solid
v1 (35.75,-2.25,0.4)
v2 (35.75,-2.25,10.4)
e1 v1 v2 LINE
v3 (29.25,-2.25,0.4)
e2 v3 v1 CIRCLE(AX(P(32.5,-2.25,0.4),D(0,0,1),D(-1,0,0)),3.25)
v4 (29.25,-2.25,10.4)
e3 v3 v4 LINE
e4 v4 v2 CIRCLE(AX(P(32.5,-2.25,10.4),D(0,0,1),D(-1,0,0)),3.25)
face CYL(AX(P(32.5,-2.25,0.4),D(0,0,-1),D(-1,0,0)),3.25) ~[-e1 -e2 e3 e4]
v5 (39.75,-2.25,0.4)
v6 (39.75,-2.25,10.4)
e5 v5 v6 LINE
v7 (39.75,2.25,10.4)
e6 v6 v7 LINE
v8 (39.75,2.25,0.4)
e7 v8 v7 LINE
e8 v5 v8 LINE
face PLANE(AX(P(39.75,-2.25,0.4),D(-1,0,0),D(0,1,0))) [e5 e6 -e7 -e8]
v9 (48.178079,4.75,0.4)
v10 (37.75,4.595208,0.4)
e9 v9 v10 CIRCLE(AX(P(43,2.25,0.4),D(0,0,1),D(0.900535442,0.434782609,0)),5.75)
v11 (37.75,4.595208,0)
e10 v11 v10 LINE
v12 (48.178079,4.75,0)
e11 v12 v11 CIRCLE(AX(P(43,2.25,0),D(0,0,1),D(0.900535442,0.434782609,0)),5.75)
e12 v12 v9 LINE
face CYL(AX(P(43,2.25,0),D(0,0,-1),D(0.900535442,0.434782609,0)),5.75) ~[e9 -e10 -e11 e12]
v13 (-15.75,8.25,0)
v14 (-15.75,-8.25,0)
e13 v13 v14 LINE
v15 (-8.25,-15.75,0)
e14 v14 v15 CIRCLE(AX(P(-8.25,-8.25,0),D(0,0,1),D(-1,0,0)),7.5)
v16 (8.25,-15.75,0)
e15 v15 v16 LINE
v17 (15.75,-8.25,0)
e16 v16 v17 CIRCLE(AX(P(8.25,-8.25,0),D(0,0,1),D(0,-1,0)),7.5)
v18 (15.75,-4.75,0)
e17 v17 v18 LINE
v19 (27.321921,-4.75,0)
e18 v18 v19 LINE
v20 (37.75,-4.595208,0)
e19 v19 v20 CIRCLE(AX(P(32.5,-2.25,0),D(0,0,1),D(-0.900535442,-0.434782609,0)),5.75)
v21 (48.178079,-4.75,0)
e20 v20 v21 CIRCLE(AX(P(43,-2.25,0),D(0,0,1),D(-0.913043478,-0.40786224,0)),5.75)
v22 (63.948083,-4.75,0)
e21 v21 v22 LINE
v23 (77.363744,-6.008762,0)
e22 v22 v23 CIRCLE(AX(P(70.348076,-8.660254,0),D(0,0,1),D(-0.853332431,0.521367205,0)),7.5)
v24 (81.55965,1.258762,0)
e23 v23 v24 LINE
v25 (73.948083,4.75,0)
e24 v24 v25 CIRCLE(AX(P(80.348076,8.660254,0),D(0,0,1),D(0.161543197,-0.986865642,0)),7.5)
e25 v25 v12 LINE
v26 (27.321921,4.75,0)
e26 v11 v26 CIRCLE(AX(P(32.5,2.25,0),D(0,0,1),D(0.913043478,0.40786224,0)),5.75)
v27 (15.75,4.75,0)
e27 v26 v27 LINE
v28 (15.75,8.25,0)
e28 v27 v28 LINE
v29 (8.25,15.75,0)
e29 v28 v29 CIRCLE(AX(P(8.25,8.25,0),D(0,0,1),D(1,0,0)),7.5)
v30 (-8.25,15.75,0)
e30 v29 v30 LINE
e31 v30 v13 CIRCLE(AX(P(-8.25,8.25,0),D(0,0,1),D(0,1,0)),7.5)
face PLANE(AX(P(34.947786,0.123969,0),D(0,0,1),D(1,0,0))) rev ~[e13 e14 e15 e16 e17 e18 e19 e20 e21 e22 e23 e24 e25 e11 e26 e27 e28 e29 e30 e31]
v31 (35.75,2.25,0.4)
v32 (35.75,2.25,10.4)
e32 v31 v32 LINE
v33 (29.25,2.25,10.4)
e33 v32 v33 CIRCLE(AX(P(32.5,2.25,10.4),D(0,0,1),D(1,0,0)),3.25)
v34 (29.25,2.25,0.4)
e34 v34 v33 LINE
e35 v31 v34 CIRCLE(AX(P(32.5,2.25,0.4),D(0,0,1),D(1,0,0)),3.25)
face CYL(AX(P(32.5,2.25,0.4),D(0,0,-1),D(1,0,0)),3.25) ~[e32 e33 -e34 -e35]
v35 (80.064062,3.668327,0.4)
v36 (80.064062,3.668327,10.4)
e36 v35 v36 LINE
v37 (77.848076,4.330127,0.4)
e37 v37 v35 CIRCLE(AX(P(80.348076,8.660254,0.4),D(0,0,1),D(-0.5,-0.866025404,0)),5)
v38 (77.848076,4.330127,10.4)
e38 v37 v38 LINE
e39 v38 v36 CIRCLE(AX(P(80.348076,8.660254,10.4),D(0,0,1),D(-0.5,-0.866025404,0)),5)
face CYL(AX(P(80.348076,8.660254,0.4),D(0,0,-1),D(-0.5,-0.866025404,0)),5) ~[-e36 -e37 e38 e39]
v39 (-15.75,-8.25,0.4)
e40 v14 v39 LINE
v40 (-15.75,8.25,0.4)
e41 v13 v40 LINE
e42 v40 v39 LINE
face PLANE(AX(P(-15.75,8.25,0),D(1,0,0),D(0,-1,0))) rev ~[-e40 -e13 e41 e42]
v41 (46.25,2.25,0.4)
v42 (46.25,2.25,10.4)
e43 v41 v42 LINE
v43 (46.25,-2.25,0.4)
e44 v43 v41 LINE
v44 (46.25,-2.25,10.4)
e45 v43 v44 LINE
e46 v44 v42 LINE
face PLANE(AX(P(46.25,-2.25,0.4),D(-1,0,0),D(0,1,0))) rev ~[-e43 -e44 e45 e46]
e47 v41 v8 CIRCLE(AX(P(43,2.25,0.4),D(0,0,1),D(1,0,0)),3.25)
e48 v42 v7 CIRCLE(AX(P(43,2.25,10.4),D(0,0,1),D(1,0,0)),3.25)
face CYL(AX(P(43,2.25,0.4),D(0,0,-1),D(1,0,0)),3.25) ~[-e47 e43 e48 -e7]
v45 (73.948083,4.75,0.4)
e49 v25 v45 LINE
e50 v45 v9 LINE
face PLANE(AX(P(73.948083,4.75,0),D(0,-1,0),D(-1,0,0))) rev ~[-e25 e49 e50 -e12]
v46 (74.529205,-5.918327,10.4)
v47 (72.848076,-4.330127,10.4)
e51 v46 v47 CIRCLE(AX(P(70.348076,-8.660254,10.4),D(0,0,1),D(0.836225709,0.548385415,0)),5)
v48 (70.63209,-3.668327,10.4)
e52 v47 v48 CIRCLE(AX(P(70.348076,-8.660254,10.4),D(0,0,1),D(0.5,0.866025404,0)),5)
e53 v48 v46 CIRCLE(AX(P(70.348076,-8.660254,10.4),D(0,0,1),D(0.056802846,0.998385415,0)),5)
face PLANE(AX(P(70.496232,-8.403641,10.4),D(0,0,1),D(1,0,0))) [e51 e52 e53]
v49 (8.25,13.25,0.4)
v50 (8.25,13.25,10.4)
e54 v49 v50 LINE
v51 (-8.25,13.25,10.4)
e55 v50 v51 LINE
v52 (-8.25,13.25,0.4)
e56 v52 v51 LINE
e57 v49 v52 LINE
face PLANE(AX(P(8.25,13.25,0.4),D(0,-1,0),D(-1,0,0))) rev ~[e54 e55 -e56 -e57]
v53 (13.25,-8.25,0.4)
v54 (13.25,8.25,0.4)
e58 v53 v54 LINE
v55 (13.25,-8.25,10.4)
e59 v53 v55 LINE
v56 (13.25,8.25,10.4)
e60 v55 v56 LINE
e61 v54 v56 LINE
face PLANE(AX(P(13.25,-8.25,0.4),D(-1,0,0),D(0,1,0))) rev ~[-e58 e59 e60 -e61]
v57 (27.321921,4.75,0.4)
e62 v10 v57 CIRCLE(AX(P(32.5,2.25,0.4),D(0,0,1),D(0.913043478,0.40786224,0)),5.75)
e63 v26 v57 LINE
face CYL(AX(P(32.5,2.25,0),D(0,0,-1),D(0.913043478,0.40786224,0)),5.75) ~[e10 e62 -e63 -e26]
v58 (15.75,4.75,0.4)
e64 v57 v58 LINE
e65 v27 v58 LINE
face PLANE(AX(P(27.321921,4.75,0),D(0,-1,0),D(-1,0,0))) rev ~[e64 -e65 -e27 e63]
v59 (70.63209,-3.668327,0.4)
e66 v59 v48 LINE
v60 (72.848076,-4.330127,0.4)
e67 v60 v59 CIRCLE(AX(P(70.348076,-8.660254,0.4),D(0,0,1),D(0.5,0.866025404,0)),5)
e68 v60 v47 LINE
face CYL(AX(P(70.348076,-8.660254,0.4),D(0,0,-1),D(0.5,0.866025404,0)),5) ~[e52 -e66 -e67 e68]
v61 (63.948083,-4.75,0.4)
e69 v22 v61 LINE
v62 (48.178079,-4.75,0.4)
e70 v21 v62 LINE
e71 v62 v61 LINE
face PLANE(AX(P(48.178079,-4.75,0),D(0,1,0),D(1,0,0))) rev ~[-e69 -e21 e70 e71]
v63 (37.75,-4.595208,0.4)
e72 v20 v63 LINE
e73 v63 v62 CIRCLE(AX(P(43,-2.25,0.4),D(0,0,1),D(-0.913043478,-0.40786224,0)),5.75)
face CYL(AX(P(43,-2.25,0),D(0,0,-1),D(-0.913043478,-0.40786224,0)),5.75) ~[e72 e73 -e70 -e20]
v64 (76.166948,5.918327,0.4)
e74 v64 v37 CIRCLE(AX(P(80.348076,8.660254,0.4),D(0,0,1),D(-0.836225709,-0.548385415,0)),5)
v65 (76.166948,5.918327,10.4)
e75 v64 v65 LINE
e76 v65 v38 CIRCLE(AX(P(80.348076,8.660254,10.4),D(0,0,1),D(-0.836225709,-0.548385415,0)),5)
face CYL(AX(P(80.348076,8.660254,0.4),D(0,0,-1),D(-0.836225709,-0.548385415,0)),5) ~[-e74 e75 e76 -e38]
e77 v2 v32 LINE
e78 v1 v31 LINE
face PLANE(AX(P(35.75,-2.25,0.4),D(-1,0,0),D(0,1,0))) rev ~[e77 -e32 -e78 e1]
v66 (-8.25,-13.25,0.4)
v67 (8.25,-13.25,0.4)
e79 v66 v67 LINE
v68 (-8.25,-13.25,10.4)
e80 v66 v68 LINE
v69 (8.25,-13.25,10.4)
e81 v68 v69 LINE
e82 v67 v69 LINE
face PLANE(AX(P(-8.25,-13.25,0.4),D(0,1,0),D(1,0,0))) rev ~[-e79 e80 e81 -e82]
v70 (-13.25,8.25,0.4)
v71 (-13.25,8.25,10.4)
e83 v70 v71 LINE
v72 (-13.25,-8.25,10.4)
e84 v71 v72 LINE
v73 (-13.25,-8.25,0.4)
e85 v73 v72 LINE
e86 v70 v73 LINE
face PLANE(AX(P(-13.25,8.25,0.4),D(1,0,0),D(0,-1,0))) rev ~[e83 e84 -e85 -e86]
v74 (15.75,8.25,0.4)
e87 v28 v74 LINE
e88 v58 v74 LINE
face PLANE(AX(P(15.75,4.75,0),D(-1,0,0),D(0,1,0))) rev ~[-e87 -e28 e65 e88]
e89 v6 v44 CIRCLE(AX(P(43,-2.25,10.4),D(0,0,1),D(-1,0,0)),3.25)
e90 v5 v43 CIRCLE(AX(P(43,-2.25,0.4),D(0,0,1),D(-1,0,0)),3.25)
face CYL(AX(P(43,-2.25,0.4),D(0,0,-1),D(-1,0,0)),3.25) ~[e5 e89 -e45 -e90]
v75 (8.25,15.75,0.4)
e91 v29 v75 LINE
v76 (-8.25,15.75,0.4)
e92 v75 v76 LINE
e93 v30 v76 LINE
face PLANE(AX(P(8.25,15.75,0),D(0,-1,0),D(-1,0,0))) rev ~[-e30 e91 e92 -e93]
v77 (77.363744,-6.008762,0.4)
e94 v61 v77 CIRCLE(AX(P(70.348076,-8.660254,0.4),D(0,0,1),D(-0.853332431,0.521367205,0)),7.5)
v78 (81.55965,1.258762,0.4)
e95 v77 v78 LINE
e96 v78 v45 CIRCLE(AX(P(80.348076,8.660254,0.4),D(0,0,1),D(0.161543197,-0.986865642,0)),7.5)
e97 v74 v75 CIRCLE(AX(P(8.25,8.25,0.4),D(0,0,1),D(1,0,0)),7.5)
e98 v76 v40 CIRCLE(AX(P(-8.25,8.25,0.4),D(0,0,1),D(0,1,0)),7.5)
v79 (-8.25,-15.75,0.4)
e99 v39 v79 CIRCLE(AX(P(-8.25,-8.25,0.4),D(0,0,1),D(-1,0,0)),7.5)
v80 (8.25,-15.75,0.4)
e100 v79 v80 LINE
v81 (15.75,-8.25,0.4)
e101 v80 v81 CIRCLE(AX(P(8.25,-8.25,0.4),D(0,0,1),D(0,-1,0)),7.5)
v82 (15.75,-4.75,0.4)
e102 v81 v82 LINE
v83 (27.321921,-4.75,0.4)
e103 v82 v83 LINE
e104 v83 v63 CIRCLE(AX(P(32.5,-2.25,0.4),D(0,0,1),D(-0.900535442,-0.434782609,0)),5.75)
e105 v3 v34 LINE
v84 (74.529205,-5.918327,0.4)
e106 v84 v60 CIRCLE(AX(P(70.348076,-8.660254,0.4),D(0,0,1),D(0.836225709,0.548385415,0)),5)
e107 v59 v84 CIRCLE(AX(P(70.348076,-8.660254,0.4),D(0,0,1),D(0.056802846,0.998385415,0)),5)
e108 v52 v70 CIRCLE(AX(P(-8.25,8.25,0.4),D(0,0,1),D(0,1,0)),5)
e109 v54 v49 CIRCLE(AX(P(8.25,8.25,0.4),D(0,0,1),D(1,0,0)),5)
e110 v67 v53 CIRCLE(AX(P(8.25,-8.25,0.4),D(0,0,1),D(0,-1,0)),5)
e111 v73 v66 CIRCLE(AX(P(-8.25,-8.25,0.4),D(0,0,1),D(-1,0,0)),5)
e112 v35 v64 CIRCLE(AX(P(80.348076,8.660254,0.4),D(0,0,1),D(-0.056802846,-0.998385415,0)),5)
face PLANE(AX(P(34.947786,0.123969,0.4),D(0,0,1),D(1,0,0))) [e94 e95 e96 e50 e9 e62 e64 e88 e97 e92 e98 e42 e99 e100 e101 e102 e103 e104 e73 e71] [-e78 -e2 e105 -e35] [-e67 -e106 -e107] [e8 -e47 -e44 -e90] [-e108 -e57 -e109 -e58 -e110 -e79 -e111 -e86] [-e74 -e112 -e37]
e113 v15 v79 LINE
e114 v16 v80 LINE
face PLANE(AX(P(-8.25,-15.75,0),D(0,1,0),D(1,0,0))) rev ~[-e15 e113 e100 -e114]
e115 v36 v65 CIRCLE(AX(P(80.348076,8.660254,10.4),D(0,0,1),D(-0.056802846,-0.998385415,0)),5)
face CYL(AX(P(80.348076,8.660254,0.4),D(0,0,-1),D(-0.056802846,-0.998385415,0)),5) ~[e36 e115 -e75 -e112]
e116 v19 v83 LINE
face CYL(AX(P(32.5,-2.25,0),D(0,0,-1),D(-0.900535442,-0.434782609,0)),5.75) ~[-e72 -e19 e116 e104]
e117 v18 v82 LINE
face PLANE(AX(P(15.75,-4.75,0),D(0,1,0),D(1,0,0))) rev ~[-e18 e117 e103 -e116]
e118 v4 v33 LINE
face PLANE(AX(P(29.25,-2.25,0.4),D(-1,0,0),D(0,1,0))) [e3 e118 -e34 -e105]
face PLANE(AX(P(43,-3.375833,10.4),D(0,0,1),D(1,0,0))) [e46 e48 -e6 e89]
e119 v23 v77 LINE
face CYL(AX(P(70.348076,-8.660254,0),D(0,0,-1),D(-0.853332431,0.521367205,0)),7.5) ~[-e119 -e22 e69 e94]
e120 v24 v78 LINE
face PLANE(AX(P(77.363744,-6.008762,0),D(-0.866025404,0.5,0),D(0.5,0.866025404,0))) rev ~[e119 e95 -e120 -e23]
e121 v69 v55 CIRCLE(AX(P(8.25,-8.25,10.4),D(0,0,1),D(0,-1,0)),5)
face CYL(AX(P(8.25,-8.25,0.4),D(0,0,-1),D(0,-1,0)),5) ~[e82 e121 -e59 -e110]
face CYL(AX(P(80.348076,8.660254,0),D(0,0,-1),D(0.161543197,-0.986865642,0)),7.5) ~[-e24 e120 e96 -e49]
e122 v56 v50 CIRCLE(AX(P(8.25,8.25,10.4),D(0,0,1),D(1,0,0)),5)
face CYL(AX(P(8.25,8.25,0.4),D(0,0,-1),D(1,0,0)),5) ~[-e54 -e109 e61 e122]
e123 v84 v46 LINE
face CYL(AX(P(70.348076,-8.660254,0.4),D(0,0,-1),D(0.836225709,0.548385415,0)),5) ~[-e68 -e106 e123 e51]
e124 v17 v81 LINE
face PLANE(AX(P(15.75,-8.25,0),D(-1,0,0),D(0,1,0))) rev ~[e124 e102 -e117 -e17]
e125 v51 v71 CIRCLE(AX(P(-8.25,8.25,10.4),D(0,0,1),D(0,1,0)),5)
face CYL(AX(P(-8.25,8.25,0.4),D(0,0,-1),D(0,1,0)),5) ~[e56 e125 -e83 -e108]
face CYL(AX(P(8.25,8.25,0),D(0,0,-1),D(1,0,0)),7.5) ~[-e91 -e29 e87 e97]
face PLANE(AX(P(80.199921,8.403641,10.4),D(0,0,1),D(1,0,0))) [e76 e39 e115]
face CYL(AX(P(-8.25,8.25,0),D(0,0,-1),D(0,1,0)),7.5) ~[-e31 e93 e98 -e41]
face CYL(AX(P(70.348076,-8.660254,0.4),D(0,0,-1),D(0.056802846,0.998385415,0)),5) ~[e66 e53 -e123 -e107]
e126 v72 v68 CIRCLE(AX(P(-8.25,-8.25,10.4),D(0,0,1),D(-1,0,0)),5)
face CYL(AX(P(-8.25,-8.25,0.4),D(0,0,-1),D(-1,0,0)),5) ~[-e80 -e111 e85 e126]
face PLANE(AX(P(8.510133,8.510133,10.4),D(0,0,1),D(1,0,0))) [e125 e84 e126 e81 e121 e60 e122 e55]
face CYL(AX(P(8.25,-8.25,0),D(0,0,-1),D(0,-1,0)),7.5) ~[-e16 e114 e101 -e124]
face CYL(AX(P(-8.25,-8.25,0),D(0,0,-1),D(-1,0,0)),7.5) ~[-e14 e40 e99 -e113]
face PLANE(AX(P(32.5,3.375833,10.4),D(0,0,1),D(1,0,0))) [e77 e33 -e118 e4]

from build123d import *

# Parameters (mm, degrees)
F0_W     = 16
F0_H     = 4.5
F0_W_2   = 6.5
F0_W_3   = 4
F1_DEPTH = 0.4
F2_W     = 6.5
F2_H     = 4.5
F3_DEPTH = 10


with BuildPart() as f1:
    # F0 (on Top) → F1 (new body)
    with BuildSketch(Plane.XY):
        with BuildLine():
            Line((15.75, 4.75), (15.75, 8.25))
            ThreePointArc((15.75, 8.25), (13.5533008589, 13.5533008589), (8.25, 15.75))
            Line((8.25, 15.75), (-8.25, 15.75))
            ThreePointArc((-8.25, 15.75), (-13.5533008589, 13.5533008589), (-15.75, 8.25))
            Line((-15.75, 8.25), (-15.75, -8.25))
            ThreePointArc((-15.75, -8.25), (-13.5533008589, -13.5533008589), (-8.25, -15.75))
            Line((-8.25, -15.75), (8.25, -15.75))
            ThreePointArc((8.25, -15.75), (13.5533008589, -13.5533008589), (15.75, -8.25))
            Line((15.75, -8.25), (15.75, -4.75))
            Line((15.75, -4.75), (27.3219212057, -4.75))
            ThreePointArc((27.3219212057, -4.75), (32.5853423404, -7.9993666334), (37.75, -4.5952078799))
            ThreePointArc((37.75, -4.5952078799), (42.9146576596, -7.9993666334), (48.1780787943, -4.75))
            Line((48.1780787943, -4.75), (63.9480829801, -4.75))
            ThreePointArc((63.9480829801, -4.75), (69.6474451199, -16.1274567319), (77.3637435709, -6.0087617221))
            Line((77.3637435709, -6.0087617221), (81.5596501878, 1.2587617221))
            ThreePointArc((81.5596501878, 1.2587617221), (83.4749132345, 15.4773568118), (73.9480829801, 4.75))
            Line((73.9480829801, 4.75), (48.1780787943, 4.75))
            ThreePointArc((48.1780787943, 4.75), (42.9146576596, 7.9993666334), (37.75, 4.5952078799))
            ThreePointArc((37.75, 4.5952078799), (32.5853423404, 7.9993666334), (27.3219212057, 4.75))
            Line((27.3219212057, 4.75), (15.75, 4.75))
        make_face()
        with BuildLine():
            ThreePointArc((-13.25, 8.25), (-11.7855339059, 11.7855339059), (-8.25, 13.25))
            Line((-8.25, 13.25), (-4.5, 13.25))
            Line((-4.5, 13.25), (4.5, 13.25))
            Line((4.5, 13.25), (8.25, 13.25))
            ThreePointArc((8.25, 13.25), (11.7855339059, 11.7855339059), (13.25, 8.25))
            Line((13.25, 8.25), (13.25, 4.5))
            Line((13.25, 4.5), (13.25, 2.25))
            Line((13.25, 2.25), (29.25, 2.25))
            ThreePointArc((29.25, 2.25), (32.5, 5.5), (35.75, 2.25))
            Line((35.75, 2.25), (39.75, 2.25))
            ThreePointArc((39.75, 2.25), (43, 5.5), (46.25, 2.25))
            Line((46.25, 2.25), (74.0490381057, 2.25))
            Line((74.0490381057, 2.25), (76.1669476654, 5.9183269633))
            ThreePointArc((76.1669476654, 5.9183269633), (82.8480762114, 12.9903810568), (80.0640619824, 3.6683269633))
            Line((80.0640619824, 3.6683269633), (74.5292047573, -5.9183269633))
            ThreePointArc((74.5292047573, -5.9183269633), (67.8480762114, -12.9903810568), (70.6320904403, -3.6683269633))
            Line((70.6320904403, -3.6683269633), (71.4509618943, -2.25))
            Line((71.4509618943, -2.25), (46.25, -2.25))
            ThreePointArc((46.25, -2.25), (43, -5.5), (39.75, -2.25))
            Line((39.75, -2.25), (35.75, -2.25))
            ThreePointArc((35.75, -2.25), (32.5, -5.5), (29.25, -2.25))
            Line((29.25, -2.25), (13.25, -2.25))
            Line((13.25, -2.25), (13.25, -4.5))
            Line((13.25, -4.5), (13.25, -8.25))
            ThreePointArc((13.25, -8.25), (11.7855339059, -11.7855339059), (8.25, -13.25))
            Line((8.25, -13.25), (4.5, -13.25))
            Line((4.5, -13.25), (-4.5, -13.25))
            Line((-4.5, -13.25), (-8.25, -13.25))
            ThreePointArc((-8.25, -13.25), (-11.7855339059, -11.7855339059), (-13.25, -8.25))
            Line((-13.25, -8.25), (-13.25, -4.5))
            Line((-13.25, -4.5), (-13.25, 4.5))
            Line((-13.25, 4.5), (-13.25, 8.25))
        make_face(mode=Mode.SUBTRACT)
        Polygon((74.0490381057, 2.25), (46.25, 2.25), (46.25, -2.25), (71.4509618943, -2.25), align=None)
        Polygon((4.5, 13.25), (-4.5, 13.25), (-4.5, 4.5), (0, 4.5), (4.5, 4.5), align=None)
        Polygon((13.25, 4.5), (4.5, 4.5), (4.5, 0), (4.5, -4.5), (13.25, -4.5), (13.25, -2.25), (13.25, 2.25), align=None)
        Polygon((-4.5, 0), (-4.5, 4.5), (-13.25, 4.5), (-13.25, -4.5), (-4.5, -4.5), align=None)
        Polygon((4.5, -4.5), (0, -4.5), (-4.5, -4.5), (-4.5, -13.25), (4.5, -13.25), align=None)
        with BuildLine():
            ThreePointArc((74.5292047573, -5.9183269633), (72.8480762114, -4.3301270189), (70.6320904403, -3.6683269633))
            ThreePointArc((70.6320904403, -3.6683269633), (67.8480762114, -12.9903810568), (74.5292047573, -5.9183269633))
        make_face()
        with BuildLine():
            ThreePointArc((80.0640619824, 3.6683269633), (82.8480762114, 12.9903810568), (76.1669476654, 5.9183269633))
            ThreePointArc((76.1669476654, 5.9183269633), (77.8480762114, 4.3301270189), (80.0640619824, 3.6683269633))
        make_face()
        with Locations((21.25, 0)):
            Rectangle(F0_W, F0_H)
        with BuildLine():
            Line((-4.5, -4.5), (-13.25, -4.5))
            Line((-13.25, -4.5), (-13.25, -8.25))
            ThreePointArc((-13.25, -8.25), (-11.7855339059, -11.7855339059), (-8.25, -13.25))
            Line((-8.25, -13.25), (-4.5, -13.25))
            Line((-4.5, -13.25), (-4.5, -4.5))
        make_face()
        with BuildLine():
            Line((13.25, -4.5), (4.5, -4.5))
            Line((4.5, -4.5), (4.5, -13.25))
            Line((4.5, -13.25), (8.25, -13.25))
            ThreePointArc((8.25, -13.25), (11.7855339059, -11.7855339059), (13.25, -8.25))
            Line((13.25, -8.25), (13.25, -4.5))
        make_face()
        with BuildLine():
            Line((-4.5, 13.25), (-8.25, 13.25))
            ThreePointArc((-8.25, 13.25), (-11.7855339059, 11.7855339059), (-13.25, 8.25))
            Line((-13.25, 8.25), (-13.25, 4.5))
            Line((-13.25, 4.5), (-4.5, 4.5))
            Line((-4.5, 4.5), (-4.5, 13.25))
        make_face()
        with BuildLine():
            Line((8.25, 13.25), (4.5, 13.25))
            Line((4.5, 13.25), (4.5, 4.5))
            Line((4.5, 4.5), (13.25, 4.5))
            Line((13.25, 4.5), (13.25, 8.25))
            ThreePointArc((13.25, 8.25), (11.7855339059, 11.7855339059), (8.25, 13.25))
        make_face()
        with BuildLine():
            ThreePointArc((0, 4.5), (-3.1819805153, 3.1819805153), (-4.5, 0))
            ThreePointArc((-4.5, 0), (-3.1819805153, -3.1819805153), (0, -4.5))
            ThreePointArc((0, -4.5), (3.1819805153, -3.1819805153), (4.5, 0))
            ThreePointArc((4.5, 0), (3.1819805153, 3.1819805153), (0, 4.5))
        make_face()
        with BuildLine():
            Line((76.1669476654, 5.9183269633), (74.0490381057, 2.25))
            Line((74.0490381057, 2.25), (71.4509618943, -2.25))
            Line((71.4509618943, -2.25), (70.6320904403, -3.6683269633))
            ThreePointArc((70.6320904403, -3.6683269633), (72.8480762114, -4.3301270189), (74.5292047573, -5.9183269633))
            Line((74.5292047573, -5.9183269633), (80.0640619824, 3.6683269633))
            ThreePointArc((80.0640619824, 3.6683269633), (77.8480762114, 4.3301270189), (76.1669476654, 5.9183269633))
        make_face()
        with Locations((32.5, 0)):
            Rectangle(F0_W_2, F0_H)
        with Locations((43, 0)):
            Rectangle(F0_W_2, F0_H)
        with Locations((37.75, 0)):
            Rectangle(F0_W_3, F0_H)
        with BuildLine():
            ThreePointArc((35.75, 2.25), (32.5, 5.5), (29.25, 2.25))
            Line((29.25, 2.25), (35.75, 2.25))
        make_face()
        with BuildLine():
            Line((35.75, -2.25), (29.25, -2.25))
            ThreePointArc((29.25, -2.25), (32.5, -5.5), (35.75, -2.25))
        make_face()
        with BuildLine():
            ThreePointArc((46.25, 2.25), (43, 5.5), (39.75, 2.25))
            Line((39.75, 2.25), (46.25, 2.25))
        make_face()
        with BuildLine():
            Line((46.25, -2.25), (39.75, -2.25))
            ThreePointArc((39.75, -2.25), (43, -5.5), (46.25, -2.25))
        make_face()
        with BuildLine():
            Line((4.5, 0), (4.5, 4.5))
            Line((4.5, 4.5), (0, 4.5))
            ThreePointArc((0, 4.5), (3.1819805153, 3.1819805153), (4.5, 0))
        make_face()
        with BuildLine():
            ThreePointArc((0, -4.5), (-3.1819805153, -3.1819805153), (-4.5, 0))
            Line((-4.5, 0), (-4.5, -4.5))
            Line((-4.5, -4.5), (0, -4.5))
        make_face()
        with BuildLine():
            Line((0, 4.5), (-4.5, 4.5))
            Line((-4.5, 4.5), (-4.5, 0))
            ThreePointArc((-4.5, 0), (-3.1819805153, 3.1819805153), (0, 4.5))
        make_face()
        with BuildLine():
            Line((4.5, -4.5), (4.5, 0))
            ThreePointArc((4.5, 0), (3.1819805153, -3.1819805153), (0, -4.5))
            Line((0, -4.5), (4.5, -4.5))
        make_face()
    extrude(amount=F1_DEPTH)

    # F2 (on face) → F3 (join)
    with BuildSketch(Plane.XY.offset(0.4)):
        with BuildLine():
            Line((8.25, 13.25), (4.5, 13.25))
            Line((4.5, 13.25), (4.5, 4.5))
            Line((4.5, 4.5), (13.25, 4.5))
            Line((13.25, 4.5), (13.25, 8.25))
            ThreePointArc((13.25, 8.25), (11.7855339059, 11.7855339059), (8.25, 13.25))
        make_face()
        Polygon((13.25, 4.5), (4.5, 4.5), (4.5, 0), (4.5, -4.5), (13.25, -4.5), (13.25, -2.25), (13.25, 2.25), align=None)
        with BuildLine():
            Line((4.5, 0), (4.5, 4.5))
            Line((4.5, 4.5), (0, 4.5))
            ThreePointArc((0, 4.5), (3.1819805153, 3.1819805153), (4.5, 0))
        make_face()
        with BuildLine():
            ThreePointArc((0, 4.5), (-3.1819805153, 3.1819805153), (-4.5, 0))
            ThreePointArc((-4.5, 0), (-3.1819805153, -3.1819805153), (0, -4.5))
            ThreePointArc((0, -4.5), (3.1819805153, -3.1819805153), (4.5, 0))
            ThreePointArc((4.5, 0), (3.1819805153, 3.1819805153), (0, 4.5))
        make_face()
        with BuildLine():
            Line((0, 4.5), (-4.5, 4.5))
            Line((-4.5, 4.5), (-4.5, 0))
            ThreePointArc((-4.5, 0), (-3.1819805153, 3.1819805153), (0, 4.5))
        make_face()
        Polygon((4.5, -4.5), (0, -4.5), (-4.5, -4.5), (-4.5, -13.25), (4.5, -13.25), align=None)
        with BuildLine():
            ThreePointArc((0, -4.5), (-3.1819805153, -3.1819805153), (-4.5, 0))
            Line((-4.5, 0), (-4.5, -4.5))
            Line((-4.5, -4.5), (0, -4.5))
        make_face()
        with BuildLine():
            Line((4.5, -4.5), (4.5, 0))
            ThreePointArc((4.5, 0), (3.1819805153, -3.1819805153), (0, -4.5))
            Line((0, -4.5), (4.5, -4.5))
        make_face()
        with BuildLine():
            Line((13.25, -4.5), (4.5, -4.5))
            Line((4.5, -4.5), (4.5, -13.25))
            Line((4.5, -13.25), (8.25, -13.25))
            ThreePointArc((8.25, -13.25), (11.7855339059, -11.7855339059), (13.25, -8.25))
            Line((13.25, -8.25), (13.25, -4.5))
        make_face()
        Polygon((4.5, 13.25), (-4.5, 13.25), (-4.5, 4.5), (0, 4.5), (4.5, 4.5), align=None)
        with BuildLine():
            Line((-4.5, 13.25), (-8.25, 13.25))
            ThreePointArc((-8.25, 13.25), (-11.7855339059, 11.7855339059), (-13.25, 8.25))
            Line((-13.25, 8.25), (-13.25, 4.5))
            Line((-13.25, 4.5), (-4.5, 4.5))
            Line((-4.5, 4.5), (-4.5, 13.25))
        make_face()
        Polygon((-4.5, 0), (-4.5, 4.5), (-13.25, 4.5), (-13.25, -4.5), (-4.5, -4.5), align=None)
        with BuildLine():
            Line((-4.5, -4.5), (-13.25, -4.5))
            Line((-13.25, -4.5), (-13.25, -8.25))
            ThreePointArc((-13.25, -8.25), (-11.7855339059, -11.7855339059), (-8.25, -13.25))
            Line((-8.25, -13.25), (-4.5, -13.25))
            Line((-4.5, -13.25), (-4.5, -4.5))
        make_face()
        with BuildLine():
            ThreePointArc((35.75, 2.25), (32.5, 5.5), (29.25, 2.25))
            Line((29.25, 2.25), (35.75, 2.25))
        make_face()
        with Locations((32.5, 0)):
            Rectangle(F2_W, F2_H)
        with BuildLine():
            Line((35.75, -2.25), (29.25, -2.25))
            ThreePointArc((29.25, -2.25), (32.5, -5.5), (35.75, -2.25))
        make_face()
        with BuildLine():
            Line((46.25, -2.25), (39.75, -2.25))
            ThreePointArc((39.75, -2.25), (43, -5.5), (46.25, -2.25))
        make_face()
        with Locations((43, 0)):
            Rectangle(F2_W, F2_H)
        with BuildLine():
            ThreePointArc((46.25, 2.25), (43, 5.5), (39.75, 2.25))
            Line((39.75, 2.25), (46.25, 2.25))
        make_face()
        with BuildLine():
            ThreePointArc((72.8480762114, -4.3301270189), (71.7788727151, -3.8693437522), (70.6320904403, -3.6683269633))
            ThreePointArc((70.6320904403, -3.6683269633), (67.8480762114, -12.9903810568), (74.5292047573, -5.9183269633))
            ThreePointArc((74.5292047573, -5.9183269633), (73.7817279741, -5.0256927751), (72.8480762114, -4.3301270189))
        make_face()
        with BuildLine():
            ThreePointArc((80.0640619824, 3.6683269633), (82.8480762114, 12.9903810568), (76.1669476654, 5.9183269633))
            ThreePointArc((76.1669476654, 5.9183269633), (76.9144244486, 5.0256927751), (77.8480762114, 4.3301270189))
            ThreePointArc((77.8480762114, 4.3301270189), (78.9172797076, 3.8693437522), (80.0640619824, 3.6683269633))
        make_face()
    extrude(amount=F3_DEPTH)


solid = f1.part
